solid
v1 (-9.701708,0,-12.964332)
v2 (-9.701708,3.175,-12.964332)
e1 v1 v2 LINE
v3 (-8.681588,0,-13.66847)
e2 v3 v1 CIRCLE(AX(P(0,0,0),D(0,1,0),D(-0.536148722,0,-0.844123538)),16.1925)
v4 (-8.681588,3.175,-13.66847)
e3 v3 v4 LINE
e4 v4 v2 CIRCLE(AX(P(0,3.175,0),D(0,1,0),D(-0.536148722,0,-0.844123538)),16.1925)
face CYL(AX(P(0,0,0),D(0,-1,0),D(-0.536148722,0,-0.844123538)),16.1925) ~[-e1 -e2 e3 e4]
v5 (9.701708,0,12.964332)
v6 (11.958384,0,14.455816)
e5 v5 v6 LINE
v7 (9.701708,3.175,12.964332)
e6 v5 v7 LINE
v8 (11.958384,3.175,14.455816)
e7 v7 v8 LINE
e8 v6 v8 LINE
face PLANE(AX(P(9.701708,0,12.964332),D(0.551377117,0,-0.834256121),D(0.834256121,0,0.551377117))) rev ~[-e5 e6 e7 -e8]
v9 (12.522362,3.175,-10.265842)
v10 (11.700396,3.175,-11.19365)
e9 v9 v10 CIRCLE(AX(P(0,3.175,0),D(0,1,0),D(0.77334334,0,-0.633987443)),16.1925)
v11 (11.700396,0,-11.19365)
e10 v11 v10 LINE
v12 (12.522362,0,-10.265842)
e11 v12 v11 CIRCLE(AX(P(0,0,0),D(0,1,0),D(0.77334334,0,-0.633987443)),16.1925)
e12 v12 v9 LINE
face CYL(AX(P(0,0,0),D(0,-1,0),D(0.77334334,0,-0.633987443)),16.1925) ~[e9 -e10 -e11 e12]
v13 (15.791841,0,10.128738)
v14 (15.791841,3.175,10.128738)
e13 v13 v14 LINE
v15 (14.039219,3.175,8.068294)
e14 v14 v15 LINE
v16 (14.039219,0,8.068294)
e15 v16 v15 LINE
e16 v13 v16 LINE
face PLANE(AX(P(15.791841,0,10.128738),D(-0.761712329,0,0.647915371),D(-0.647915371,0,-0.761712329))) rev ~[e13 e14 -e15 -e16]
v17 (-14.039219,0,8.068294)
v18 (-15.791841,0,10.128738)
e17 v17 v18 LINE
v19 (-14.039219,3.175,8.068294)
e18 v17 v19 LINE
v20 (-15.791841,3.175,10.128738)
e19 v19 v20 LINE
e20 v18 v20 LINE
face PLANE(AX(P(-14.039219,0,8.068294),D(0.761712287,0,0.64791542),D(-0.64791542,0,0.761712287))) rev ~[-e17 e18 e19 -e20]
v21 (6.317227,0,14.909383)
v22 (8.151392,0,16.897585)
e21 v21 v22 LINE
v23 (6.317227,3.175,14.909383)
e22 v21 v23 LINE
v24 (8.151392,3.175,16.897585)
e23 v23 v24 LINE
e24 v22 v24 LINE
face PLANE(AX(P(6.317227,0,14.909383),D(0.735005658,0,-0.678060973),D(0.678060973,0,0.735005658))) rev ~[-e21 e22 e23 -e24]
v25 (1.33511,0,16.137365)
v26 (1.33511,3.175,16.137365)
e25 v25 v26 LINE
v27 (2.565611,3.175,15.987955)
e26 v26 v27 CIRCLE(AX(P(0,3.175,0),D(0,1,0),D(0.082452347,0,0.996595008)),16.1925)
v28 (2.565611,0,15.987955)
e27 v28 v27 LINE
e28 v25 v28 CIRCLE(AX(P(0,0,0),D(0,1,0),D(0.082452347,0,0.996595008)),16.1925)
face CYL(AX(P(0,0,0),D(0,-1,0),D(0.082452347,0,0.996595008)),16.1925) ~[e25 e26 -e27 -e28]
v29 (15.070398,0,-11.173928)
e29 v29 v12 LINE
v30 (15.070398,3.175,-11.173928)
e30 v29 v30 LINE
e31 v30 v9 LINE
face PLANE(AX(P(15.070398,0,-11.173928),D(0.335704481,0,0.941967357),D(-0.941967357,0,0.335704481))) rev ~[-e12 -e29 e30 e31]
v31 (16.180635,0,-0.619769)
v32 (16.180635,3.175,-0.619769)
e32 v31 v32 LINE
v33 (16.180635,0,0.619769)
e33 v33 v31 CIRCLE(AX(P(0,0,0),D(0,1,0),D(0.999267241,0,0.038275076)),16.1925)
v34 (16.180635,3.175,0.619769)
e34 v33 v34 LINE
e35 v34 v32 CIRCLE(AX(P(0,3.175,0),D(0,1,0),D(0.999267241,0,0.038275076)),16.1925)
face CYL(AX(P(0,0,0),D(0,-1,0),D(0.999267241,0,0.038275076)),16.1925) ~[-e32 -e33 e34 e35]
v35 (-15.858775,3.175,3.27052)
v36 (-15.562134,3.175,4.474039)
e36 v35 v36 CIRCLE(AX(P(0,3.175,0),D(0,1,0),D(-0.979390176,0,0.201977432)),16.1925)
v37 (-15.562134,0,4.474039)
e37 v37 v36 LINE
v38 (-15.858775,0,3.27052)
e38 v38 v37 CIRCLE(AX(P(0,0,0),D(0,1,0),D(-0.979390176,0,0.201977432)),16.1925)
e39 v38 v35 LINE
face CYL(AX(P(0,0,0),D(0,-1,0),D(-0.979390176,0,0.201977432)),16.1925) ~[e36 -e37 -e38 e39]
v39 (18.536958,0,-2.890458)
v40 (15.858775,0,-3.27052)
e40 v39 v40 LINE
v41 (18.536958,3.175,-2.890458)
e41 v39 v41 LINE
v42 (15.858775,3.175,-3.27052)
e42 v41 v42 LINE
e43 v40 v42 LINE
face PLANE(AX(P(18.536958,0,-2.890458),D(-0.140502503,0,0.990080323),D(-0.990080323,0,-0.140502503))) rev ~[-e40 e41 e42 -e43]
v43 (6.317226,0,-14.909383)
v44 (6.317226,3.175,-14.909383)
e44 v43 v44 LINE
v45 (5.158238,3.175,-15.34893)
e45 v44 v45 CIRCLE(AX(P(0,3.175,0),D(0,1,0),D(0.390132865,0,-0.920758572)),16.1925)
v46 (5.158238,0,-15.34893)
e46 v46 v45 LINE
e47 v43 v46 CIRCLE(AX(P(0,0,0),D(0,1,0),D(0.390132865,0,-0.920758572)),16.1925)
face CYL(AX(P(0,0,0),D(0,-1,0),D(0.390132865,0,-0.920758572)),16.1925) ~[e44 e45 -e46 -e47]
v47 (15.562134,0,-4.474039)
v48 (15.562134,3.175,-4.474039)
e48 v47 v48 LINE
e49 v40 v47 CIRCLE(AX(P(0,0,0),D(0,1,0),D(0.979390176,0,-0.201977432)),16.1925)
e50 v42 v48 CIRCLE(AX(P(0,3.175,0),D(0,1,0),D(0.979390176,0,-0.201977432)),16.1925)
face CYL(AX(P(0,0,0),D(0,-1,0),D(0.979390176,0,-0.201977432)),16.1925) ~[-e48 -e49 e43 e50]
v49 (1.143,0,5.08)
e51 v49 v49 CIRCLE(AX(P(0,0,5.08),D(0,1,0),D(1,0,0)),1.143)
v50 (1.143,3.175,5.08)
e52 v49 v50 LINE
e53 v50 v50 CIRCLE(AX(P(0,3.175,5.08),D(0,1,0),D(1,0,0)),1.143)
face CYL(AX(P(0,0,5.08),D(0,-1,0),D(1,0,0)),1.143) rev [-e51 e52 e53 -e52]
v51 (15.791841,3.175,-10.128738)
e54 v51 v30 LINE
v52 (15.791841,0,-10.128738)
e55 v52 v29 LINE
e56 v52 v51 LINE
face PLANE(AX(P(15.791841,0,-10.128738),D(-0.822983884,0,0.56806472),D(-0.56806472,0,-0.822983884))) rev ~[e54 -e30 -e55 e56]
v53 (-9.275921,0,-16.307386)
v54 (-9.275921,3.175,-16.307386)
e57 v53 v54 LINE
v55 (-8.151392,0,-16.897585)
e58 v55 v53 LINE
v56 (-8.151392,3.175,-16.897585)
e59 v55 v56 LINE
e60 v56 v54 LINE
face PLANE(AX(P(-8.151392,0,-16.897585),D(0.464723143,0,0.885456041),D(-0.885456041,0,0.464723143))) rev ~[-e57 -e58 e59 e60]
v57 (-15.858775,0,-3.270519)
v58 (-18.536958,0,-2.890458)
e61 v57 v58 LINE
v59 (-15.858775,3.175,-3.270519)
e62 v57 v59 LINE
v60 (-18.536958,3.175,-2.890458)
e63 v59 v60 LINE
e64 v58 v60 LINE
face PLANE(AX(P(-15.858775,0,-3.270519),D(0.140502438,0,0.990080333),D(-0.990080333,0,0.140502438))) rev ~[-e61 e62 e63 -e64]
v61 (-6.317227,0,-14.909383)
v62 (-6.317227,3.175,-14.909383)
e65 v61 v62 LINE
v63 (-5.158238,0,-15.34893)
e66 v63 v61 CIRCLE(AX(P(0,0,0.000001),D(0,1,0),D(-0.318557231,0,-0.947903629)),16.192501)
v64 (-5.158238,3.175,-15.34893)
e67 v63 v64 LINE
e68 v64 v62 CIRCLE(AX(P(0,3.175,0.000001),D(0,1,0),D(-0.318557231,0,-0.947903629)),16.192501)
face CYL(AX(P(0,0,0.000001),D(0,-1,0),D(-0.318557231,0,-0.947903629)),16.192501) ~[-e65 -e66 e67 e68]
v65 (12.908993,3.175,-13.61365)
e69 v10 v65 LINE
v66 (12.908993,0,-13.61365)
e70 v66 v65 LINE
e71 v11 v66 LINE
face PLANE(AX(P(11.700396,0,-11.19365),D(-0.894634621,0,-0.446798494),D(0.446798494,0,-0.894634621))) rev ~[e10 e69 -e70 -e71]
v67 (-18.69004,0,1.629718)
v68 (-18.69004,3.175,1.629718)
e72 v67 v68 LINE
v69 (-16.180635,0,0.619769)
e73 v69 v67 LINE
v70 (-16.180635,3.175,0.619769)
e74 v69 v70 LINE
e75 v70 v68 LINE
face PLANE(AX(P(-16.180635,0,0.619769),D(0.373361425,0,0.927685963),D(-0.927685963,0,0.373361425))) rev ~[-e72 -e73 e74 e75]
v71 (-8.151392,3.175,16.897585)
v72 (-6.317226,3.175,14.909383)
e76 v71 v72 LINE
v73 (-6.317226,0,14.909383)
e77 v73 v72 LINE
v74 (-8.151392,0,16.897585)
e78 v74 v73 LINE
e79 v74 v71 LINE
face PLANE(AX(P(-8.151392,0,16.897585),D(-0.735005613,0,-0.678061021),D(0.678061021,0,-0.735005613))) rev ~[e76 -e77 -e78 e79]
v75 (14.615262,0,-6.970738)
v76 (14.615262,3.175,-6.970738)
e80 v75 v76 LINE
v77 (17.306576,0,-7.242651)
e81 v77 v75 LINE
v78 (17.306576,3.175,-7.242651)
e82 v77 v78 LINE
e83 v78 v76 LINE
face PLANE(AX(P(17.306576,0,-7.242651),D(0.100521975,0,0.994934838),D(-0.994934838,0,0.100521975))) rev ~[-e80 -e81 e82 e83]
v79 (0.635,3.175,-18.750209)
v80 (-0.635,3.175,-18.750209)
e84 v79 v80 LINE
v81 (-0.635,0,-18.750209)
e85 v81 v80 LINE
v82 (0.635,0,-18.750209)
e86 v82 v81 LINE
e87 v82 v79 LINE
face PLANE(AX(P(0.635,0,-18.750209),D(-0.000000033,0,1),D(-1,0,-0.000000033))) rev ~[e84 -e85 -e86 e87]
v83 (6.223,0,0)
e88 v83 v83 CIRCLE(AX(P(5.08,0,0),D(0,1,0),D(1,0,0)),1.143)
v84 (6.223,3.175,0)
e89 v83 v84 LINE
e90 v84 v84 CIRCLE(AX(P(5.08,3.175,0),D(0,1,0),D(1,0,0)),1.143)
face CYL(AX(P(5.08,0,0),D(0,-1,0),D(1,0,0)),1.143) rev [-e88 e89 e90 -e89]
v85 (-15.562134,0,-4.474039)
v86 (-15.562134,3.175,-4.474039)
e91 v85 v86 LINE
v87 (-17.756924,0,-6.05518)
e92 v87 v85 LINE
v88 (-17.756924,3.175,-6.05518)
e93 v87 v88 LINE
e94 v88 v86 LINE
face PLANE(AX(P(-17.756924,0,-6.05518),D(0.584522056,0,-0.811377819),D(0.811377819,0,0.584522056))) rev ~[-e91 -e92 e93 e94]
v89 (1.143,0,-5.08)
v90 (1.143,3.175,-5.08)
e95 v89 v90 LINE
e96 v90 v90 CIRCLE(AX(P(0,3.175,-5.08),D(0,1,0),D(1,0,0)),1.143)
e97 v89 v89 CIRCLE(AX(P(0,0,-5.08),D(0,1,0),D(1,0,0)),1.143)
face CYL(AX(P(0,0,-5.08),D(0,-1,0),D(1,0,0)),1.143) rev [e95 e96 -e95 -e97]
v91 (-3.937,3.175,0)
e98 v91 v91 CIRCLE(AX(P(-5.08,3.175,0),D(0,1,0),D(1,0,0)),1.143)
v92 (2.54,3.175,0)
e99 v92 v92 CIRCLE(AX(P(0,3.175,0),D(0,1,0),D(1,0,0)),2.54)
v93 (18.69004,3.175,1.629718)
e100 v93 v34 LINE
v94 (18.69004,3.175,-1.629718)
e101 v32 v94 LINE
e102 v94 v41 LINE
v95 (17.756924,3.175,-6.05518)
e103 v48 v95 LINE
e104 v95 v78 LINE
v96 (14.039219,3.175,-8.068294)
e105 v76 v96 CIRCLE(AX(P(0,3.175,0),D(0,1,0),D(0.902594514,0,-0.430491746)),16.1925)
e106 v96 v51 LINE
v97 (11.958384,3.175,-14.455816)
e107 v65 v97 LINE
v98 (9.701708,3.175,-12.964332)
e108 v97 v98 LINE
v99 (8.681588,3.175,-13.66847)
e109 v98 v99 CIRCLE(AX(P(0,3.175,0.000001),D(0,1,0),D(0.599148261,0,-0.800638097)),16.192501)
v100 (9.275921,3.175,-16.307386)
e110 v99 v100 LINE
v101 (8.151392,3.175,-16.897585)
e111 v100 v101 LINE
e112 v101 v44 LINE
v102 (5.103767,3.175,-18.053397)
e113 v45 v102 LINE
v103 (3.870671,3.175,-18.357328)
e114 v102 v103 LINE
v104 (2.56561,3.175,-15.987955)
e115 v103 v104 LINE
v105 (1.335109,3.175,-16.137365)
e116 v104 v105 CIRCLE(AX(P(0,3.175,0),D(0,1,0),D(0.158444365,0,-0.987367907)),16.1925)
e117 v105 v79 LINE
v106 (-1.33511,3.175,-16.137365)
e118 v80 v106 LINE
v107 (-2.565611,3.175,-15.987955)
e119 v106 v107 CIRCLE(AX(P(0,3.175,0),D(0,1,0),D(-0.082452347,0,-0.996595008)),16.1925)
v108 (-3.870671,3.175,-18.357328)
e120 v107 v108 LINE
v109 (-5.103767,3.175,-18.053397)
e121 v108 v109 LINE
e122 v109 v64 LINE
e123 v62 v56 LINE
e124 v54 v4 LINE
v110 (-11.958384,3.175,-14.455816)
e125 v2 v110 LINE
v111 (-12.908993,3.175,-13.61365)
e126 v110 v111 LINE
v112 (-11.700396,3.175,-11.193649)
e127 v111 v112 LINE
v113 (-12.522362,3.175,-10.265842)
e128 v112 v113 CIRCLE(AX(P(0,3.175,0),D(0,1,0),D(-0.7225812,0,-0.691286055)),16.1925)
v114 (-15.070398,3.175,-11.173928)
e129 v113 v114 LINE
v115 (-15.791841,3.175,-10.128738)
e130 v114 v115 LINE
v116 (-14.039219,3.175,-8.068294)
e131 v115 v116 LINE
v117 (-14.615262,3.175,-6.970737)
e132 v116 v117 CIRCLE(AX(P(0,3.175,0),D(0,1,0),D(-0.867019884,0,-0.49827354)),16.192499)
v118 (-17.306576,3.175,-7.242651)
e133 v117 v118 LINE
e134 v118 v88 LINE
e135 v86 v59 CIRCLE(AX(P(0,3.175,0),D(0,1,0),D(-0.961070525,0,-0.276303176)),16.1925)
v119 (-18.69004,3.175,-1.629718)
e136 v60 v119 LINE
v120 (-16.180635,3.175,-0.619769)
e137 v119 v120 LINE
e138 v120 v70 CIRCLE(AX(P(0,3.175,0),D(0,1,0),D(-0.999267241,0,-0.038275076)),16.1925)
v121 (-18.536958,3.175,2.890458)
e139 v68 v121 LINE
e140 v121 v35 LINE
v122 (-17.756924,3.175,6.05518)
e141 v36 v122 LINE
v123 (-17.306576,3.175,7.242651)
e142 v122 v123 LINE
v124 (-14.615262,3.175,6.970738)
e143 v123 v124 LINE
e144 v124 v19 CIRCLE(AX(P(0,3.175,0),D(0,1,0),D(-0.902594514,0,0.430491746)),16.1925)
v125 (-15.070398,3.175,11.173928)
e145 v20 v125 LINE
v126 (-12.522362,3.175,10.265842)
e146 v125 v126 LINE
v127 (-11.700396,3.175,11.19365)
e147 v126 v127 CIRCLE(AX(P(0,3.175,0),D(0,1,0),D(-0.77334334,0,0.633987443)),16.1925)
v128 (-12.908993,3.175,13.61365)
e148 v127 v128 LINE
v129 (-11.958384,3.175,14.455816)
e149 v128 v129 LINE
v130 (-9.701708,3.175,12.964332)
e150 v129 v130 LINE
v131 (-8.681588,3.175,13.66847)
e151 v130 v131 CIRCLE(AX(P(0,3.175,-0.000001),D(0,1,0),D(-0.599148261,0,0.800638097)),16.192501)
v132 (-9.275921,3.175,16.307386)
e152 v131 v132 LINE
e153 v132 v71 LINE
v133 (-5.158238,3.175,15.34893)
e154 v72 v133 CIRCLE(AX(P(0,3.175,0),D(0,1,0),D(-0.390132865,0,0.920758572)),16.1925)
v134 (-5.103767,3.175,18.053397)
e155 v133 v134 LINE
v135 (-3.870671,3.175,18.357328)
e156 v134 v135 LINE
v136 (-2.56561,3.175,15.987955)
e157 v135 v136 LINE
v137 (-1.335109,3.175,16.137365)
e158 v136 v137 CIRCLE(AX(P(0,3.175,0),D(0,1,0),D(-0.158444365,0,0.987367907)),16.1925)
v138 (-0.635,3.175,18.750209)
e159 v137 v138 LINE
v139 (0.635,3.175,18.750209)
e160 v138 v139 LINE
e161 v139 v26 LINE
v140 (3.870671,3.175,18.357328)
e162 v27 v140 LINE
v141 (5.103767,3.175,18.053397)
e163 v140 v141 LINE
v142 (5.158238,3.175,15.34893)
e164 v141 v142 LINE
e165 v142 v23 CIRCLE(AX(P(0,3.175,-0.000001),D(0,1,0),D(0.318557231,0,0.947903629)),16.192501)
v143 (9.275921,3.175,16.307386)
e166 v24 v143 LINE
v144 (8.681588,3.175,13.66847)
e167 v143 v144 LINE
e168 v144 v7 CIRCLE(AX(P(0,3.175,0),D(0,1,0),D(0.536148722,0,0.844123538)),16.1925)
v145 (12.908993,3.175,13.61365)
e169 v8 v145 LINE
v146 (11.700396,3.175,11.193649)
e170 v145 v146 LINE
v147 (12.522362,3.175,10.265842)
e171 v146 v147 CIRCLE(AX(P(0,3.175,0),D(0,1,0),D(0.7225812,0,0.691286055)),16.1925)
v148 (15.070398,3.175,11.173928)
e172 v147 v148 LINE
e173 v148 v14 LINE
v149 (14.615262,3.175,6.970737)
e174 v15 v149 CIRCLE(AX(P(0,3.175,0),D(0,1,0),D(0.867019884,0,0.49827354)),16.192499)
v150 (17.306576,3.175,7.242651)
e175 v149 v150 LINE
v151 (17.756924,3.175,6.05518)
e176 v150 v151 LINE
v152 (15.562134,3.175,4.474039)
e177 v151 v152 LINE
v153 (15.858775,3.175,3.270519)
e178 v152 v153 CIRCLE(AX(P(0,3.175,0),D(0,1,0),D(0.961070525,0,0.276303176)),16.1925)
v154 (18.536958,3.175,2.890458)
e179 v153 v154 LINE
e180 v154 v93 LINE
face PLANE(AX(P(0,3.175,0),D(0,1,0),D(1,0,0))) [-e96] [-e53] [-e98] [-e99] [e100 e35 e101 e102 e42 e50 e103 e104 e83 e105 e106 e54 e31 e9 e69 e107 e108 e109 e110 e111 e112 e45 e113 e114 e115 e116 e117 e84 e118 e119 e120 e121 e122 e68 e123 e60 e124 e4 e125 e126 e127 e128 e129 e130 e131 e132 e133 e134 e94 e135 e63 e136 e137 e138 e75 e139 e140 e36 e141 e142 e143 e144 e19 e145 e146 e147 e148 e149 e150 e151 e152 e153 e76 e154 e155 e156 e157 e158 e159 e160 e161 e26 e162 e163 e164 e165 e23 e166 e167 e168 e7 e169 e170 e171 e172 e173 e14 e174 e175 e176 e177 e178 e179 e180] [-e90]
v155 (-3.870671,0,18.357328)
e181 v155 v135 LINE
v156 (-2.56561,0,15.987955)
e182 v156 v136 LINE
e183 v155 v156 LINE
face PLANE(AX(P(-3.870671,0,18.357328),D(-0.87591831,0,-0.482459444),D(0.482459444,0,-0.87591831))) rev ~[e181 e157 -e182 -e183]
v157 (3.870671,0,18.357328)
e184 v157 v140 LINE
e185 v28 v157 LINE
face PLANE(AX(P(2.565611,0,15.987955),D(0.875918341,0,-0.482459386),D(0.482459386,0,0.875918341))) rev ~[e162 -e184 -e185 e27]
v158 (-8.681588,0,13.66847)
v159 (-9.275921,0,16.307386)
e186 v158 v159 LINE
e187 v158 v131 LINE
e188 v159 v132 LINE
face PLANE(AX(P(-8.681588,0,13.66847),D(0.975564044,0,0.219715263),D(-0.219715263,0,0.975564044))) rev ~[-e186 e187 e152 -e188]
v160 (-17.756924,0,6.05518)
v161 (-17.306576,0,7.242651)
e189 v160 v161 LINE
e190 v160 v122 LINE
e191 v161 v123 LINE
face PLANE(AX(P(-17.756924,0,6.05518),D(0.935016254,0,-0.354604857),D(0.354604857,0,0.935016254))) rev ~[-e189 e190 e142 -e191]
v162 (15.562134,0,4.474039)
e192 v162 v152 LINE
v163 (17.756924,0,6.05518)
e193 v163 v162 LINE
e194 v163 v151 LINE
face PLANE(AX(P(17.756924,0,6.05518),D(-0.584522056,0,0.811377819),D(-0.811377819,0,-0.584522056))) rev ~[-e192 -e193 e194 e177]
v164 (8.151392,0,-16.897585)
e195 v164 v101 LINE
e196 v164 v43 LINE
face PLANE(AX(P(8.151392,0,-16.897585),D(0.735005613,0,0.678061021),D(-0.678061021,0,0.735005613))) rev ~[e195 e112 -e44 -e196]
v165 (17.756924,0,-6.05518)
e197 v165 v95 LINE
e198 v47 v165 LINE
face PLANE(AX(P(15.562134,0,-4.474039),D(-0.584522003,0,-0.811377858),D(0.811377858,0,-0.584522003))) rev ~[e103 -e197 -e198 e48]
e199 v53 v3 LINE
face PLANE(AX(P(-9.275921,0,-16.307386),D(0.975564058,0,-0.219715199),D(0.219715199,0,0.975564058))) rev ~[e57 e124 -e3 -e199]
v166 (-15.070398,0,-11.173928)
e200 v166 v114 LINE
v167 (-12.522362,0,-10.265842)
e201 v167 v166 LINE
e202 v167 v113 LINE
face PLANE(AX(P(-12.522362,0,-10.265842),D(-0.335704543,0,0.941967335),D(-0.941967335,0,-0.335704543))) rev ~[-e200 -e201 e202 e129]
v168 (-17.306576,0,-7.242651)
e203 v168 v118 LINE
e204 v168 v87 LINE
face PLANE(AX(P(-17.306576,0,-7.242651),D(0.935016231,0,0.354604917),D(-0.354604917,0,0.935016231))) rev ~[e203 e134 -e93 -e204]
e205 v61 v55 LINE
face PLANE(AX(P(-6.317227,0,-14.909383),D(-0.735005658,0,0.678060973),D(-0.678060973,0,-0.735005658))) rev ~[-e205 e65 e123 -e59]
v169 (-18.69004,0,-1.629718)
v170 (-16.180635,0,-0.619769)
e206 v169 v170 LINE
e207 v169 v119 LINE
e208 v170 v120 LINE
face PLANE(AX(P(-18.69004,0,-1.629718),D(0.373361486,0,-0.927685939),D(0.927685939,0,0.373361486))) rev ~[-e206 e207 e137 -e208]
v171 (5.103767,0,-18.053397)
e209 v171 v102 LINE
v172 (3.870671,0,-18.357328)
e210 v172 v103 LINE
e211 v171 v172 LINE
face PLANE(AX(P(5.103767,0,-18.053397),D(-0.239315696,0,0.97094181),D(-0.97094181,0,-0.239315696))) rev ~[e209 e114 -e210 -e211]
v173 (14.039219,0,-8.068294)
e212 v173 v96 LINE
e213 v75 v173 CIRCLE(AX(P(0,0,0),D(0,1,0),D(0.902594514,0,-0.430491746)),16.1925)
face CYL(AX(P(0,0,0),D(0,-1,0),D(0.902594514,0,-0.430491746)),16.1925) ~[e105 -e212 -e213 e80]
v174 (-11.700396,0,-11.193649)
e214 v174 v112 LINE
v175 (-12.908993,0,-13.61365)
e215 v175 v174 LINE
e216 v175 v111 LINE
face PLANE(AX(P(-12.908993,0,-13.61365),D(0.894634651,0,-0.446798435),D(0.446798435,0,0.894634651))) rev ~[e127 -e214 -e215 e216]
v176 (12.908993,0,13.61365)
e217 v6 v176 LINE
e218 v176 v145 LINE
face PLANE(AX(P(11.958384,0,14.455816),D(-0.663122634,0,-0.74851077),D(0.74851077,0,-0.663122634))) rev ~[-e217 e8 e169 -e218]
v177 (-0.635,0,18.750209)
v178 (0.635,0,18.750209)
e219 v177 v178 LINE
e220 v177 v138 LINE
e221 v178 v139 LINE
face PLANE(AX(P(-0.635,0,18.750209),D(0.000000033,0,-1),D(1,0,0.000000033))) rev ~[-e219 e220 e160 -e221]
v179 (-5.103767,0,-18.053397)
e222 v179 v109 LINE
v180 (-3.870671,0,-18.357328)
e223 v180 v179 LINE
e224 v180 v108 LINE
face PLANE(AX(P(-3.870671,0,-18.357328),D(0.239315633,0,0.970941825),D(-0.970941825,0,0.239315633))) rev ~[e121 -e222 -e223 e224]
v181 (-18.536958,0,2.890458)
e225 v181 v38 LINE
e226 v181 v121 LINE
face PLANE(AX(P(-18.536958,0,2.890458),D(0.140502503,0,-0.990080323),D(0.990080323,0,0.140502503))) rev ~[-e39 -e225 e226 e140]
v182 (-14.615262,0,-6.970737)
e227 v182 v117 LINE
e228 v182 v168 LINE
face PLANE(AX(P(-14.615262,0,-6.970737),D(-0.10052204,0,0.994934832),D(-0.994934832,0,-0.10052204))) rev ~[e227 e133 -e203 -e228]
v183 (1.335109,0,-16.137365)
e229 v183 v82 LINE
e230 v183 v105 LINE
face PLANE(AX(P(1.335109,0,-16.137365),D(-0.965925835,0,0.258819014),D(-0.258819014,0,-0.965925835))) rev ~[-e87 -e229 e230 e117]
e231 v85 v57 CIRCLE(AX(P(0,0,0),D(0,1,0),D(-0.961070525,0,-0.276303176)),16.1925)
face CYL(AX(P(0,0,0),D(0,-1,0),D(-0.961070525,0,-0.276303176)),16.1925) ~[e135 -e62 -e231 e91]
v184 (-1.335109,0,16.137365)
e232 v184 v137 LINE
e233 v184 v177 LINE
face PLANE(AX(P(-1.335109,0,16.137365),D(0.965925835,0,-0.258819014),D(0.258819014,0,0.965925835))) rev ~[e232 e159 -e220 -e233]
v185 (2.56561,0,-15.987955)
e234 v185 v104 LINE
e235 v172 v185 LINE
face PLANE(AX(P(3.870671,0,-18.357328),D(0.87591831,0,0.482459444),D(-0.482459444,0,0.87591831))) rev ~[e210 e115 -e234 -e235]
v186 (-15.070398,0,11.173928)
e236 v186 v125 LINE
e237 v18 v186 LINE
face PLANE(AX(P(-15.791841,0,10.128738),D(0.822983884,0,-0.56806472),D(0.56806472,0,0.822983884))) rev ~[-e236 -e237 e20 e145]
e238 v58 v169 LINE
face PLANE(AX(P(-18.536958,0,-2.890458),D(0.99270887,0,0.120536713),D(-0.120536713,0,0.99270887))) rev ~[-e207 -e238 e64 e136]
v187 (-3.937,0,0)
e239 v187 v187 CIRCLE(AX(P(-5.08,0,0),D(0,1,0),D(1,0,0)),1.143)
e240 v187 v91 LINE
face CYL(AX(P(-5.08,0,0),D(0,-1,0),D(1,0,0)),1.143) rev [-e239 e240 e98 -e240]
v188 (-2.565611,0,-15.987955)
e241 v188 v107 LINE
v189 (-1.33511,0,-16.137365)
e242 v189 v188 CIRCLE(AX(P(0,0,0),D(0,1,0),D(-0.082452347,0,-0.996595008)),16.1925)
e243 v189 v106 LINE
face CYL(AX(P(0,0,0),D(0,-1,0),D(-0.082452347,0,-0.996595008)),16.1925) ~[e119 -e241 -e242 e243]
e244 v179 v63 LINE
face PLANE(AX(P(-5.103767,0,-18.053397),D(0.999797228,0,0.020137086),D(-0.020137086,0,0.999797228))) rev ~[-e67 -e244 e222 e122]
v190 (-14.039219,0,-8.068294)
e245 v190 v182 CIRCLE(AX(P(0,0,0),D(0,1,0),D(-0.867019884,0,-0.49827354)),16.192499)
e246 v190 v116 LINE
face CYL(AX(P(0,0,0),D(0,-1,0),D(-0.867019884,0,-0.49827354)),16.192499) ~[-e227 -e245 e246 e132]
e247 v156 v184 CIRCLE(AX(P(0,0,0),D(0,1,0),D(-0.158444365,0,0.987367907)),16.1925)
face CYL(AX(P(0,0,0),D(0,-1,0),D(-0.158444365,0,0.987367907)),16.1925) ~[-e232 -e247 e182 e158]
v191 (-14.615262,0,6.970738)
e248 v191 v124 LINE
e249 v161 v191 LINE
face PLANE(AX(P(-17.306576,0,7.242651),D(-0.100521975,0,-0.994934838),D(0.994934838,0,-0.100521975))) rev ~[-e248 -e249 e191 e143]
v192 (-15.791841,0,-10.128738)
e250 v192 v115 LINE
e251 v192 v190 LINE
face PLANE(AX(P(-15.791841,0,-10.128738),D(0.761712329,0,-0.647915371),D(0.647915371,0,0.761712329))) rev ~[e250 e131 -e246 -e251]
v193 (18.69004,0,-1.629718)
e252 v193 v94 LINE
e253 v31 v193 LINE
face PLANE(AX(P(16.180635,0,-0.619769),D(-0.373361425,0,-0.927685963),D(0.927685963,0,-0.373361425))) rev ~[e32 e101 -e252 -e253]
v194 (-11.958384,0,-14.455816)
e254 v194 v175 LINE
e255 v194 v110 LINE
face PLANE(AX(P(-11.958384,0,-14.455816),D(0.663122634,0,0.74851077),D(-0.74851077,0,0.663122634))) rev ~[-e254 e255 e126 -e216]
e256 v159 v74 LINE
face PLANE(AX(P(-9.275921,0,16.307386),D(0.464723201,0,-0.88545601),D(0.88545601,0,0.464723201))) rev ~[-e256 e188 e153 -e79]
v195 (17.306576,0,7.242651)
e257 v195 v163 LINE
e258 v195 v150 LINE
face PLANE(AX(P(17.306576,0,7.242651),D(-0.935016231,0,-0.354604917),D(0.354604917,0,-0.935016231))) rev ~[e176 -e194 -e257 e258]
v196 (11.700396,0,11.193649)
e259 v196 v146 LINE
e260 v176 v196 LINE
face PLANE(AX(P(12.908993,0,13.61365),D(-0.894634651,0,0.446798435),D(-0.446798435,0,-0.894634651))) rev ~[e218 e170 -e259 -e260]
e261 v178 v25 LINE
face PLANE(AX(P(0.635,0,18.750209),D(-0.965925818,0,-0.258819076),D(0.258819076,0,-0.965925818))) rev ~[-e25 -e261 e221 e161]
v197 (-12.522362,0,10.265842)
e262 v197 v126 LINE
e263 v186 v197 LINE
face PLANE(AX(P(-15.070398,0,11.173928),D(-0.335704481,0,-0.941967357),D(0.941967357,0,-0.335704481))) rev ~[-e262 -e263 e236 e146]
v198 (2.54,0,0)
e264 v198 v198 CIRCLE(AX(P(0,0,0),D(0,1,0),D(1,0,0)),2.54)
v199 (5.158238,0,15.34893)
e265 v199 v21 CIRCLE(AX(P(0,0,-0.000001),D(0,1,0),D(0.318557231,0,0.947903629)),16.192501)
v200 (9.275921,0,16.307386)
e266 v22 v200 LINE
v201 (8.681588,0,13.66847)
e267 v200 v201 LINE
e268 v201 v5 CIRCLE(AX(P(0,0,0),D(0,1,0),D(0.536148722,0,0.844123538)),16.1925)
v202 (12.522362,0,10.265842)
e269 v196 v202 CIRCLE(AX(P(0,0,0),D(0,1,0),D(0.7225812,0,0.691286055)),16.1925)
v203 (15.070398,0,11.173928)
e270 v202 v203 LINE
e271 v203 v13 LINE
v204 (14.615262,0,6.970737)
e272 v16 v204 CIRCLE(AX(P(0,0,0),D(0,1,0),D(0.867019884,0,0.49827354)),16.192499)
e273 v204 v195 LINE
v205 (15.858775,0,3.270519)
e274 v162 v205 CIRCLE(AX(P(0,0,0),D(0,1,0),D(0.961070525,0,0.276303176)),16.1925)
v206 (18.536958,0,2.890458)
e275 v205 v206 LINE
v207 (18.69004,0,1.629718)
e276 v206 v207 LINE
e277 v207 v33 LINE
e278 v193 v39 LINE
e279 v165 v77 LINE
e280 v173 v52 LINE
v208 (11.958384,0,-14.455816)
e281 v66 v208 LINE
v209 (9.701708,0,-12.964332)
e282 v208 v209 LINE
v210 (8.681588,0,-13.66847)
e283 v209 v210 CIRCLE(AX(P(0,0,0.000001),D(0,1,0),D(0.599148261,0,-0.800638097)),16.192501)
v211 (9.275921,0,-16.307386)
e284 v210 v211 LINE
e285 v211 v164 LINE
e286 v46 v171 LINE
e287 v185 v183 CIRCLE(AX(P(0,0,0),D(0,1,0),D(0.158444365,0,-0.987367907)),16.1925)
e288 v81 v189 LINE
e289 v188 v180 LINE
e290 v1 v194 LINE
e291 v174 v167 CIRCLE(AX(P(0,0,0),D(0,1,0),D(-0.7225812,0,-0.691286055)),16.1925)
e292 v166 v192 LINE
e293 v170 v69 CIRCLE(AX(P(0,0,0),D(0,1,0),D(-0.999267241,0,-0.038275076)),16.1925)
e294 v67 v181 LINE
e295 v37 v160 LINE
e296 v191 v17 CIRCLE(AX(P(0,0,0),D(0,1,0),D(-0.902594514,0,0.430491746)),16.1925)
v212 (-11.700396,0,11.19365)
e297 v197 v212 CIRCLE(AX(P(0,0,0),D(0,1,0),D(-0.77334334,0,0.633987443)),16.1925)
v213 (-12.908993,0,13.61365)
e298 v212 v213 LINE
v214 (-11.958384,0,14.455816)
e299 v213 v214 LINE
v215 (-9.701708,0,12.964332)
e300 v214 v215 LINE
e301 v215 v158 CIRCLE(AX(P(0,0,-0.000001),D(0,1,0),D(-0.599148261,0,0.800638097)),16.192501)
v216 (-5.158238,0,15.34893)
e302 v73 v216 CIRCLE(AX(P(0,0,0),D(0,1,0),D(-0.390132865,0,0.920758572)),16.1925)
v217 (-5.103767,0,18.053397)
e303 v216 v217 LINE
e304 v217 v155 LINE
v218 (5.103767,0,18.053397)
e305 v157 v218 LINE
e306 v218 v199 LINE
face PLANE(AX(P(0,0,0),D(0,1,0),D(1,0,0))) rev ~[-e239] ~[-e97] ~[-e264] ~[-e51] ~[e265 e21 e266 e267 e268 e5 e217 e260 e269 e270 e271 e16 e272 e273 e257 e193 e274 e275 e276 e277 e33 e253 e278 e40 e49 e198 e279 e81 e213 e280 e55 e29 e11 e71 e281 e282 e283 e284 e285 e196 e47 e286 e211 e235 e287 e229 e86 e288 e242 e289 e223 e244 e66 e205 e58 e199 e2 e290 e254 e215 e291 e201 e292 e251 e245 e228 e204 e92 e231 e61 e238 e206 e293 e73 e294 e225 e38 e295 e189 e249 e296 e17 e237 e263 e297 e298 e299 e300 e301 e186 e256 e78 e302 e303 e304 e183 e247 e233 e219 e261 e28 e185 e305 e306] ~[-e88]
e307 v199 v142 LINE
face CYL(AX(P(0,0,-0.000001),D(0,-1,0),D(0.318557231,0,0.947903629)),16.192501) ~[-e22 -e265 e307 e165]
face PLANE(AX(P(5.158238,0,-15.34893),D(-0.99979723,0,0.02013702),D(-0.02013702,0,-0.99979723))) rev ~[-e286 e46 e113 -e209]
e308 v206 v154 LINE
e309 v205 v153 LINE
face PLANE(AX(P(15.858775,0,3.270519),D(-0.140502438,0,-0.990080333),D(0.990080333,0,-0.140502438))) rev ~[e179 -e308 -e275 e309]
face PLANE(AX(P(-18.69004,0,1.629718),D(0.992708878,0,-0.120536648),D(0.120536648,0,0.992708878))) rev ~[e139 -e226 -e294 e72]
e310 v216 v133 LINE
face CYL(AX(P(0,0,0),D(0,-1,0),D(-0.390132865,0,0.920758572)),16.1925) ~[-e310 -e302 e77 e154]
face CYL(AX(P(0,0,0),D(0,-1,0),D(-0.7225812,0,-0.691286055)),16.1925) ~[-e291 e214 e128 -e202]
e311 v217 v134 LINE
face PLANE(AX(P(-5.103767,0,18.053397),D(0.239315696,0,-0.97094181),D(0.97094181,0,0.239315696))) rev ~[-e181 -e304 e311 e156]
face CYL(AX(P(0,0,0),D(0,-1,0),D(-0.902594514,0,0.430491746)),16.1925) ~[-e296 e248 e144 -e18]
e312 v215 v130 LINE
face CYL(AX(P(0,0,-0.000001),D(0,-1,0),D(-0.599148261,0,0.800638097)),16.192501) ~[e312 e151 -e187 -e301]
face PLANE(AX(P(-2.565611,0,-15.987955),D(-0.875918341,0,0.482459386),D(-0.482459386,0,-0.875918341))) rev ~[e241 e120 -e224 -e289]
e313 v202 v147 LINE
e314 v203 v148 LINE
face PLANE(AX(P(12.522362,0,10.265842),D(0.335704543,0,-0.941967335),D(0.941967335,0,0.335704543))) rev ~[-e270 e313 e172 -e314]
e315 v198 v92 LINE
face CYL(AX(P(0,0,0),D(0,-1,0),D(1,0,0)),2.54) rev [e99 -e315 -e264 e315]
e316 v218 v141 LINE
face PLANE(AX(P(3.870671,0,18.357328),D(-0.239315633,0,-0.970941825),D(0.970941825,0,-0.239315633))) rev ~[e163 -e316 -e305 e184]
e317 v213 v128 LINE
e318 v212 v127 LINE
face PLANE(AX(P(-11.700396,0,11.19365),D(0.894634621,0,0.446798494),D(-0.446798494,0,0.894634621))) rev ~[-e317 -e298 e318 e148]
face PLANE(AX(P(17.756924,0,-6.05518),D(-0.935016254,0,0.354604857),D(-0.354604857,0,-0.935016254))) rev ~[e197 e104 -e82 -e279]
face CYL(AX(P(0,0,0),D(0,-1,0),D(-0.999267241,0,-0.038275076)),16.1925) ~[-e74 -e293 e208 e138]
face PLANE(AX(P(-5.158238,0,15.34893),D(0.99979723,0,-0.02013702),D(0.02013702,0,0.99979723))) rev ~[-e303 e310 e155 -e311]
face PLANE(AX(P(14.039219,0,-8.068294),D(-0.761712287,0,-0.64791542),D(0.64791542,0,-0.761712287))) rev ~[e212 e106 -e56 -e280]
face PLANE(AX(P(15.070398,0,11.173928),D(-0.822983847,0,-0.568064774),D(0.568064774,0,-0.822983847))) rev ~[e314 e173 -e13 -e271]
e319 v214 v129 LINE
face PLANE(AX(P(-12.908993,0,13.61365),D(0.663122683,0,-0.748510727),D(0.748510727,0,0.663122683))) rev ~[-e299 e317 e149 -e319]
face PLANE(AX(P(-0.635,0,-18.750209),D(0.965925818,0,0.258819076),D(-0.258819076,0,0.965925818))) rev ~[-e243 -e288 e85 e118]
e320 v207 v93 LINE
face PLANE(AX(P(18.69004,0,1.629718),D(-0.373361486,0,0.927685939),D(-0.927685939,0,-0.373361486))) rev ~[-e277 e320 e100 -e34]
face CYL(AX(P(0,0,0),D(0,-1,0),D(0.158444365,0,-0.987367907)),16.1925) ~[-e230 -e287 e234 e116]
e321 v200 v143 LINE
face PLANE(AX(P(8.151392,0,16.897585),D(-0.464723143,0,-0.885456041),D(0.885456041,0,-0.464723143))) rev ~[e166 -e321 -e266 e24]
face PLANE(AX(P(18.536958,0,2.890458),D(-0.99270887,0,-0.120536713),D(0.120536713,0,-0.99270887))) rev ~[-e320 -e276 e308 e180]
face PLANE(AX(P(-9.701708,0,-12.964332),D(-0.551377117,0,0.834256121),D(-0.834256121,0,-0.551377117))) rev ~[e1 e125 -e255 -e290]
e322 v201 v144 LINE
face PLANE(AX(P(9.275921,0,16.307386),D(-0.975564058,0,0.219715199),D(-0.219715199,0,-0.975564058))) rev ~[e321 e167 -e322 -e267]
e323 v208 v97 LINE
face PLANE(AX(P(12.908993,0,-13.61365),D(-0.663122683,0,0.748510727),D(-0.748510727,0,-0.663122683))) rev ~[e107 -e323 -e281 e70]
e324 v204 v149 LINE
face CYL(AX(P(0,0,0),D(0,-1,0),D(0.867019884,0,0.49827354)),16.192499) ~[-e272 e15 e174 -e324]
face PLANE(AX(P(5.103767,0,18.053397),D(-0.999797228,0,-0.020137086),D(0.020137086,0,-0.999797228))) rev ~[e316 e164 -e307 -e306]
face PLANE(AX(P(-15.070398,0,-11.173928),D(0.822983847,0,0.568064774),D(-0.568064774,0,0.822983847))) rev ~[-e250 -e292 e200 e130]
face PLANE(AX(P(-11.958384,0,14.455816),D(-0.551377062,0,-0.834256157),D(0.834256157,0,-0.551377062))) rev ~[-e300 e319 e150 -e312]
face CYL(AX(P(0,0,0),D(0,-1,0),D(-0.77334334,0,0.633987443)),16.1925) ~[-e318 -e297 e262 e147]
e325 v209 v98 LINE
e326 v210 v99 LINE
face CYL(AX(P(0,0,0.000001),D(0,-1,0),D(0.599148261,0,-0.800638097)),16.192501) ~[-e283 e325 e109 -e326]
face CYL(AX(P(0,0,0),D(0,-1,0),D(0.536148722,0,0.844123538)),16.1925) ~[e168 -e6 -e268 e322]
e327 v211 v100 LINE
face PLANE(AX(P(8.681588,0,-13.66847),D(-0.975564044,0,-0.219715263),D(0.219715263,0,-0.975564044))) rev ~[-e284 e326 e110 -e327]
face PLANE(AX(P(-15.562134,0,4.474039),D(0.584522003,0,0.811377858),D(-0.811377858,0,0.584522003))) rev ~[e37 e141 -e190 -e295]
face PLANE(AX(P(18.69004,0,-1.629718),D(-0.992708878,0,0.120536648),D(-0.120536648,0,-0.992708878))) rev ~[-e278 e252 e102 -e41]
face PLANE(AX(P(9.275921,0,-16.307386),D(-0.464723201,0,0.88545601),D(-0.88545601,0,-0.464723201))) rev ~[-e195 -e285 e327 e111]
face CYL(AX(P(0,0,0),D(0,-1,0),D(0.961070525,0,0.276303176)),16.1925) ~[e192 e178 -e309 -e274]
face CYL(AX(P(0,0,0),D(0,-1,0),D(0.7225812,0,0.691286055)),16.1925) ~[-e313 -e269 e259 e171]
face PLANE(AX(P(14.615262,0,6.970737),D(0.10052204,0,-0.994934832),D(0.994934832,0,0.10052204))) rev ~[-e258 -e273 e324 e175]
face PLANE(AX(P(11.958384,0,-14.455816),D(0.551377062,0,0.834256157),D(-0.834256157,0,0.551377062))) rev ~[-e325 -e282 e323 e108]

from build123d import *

# Parameters (mm, degrees)
BOSS_EXTRUDE1_DEPTH = 3.175
SKETCH2_R           = 1.143
SKETCH2_R_2         = 2.54
CUT_EXTRUDE1_DEPTH  = 3.175


with BuildPart() as part:
    # Sketch1 → Boss-Extrude1 (new body)
    with BuildSketch(Plane(origin=(0, 0, 0), x_dir=(1, 0, 0), z_dir=(0, 1, 0))):
        with BuildLine():
            Line((0.635, 18.750209072), (-0.635, 18.750209114))
            Line((-0.635, 18.750209114), (-1.33510965, 16.137364669))
            ThreePointArc((-1.33510965, 16.137364669), (-1.951790294, 16.074438432), (-2.565610552, 15.987954802))
            Line((-2.565610552, 15.987954802), (-3.870670686, 18.357327521))
            Line((-3.870670686, 18.357327521), (-5.103766804, 18.053396667))
            Line((-5.103766804, 18.053396667), (-5.158237936, 15.348929528))
            ThreePointArc((-5.158237936, 15.348929528), (-5.741939727, 15.140250474), (-6.317226596, 14.909383099))
            Line((-6.317226596, 14.909383099), (-8.15139206, 16.897584819))
            Line((-8.15139206, 16.897584819), (-9.275921232, 16.307386428))
            Line((-9.275921232, 16.307386428), (-8.681588182, 13.668470393))
            ThreePointArc((-8.681588182, 13.668470393), (-9.198388493, 13.326166192), (-9.701708393, 12.964332243))
            Line((-9.701708393, 12.964332243), (-11.958384157, 14.455815909))
            Line((-11.958384157, 14.455815909), (-12.908992835, 13.613650164))
            Line((-12.908992835, 13.613650164), (-11.70039608, 11.193649442))
            ThreePointArc((-11.70039608, 11.193649442), (-12.120260356, 10.737613569), (-12.522362162, 10.265841521))
            Line((-12.522362162, 10.265841521), (-15.070398434, 11.173927523))
            Line((-15.070398434, 11.173927523), (-15.791840697, 10.128738036))
            Line((-15.791840697, 10.128738036), (-14.039219486, 8.068294272))
            ThreePointArc((-14.039219486, 8.068294272), (-14.337746742, 7.525029875), (-14.615261759, 6.970737405))
            Line((-14.615261759, 6.970737405), (-17.306575933, 7.242651084))
            Line((-17.306575933, 7.242651084), (-17.756924178, 6.055180471))
            Line((-17.756924178, 6.055180471), (-15.562134487, 4.474039167))
            ThreePointArc((-15.562134487, 4.474039167), (-15.721975403, 3.875118797), (-15.858775467, 3.270519368))
            Line((-15.858775467, 3.270519368), (-18.536958145, 2.890458091))
            Line((-18.536958145, 2.890458091), (-18.69003977, 1.629717826))
            Line((-18.69003977, 1.629717826), (-16.180634797, 0.619769168))
            ThreePointArc((-16.180634797, 0.619769168), (-16.1925, -1e-07), (-16.180634789, -0.619769367))
            Line((-16.180634789, -0.619769367), (-18.690039729, -1.629717821))
            Line((-18.690039729, -1.629717821), (-18.536958186, -2.890458096))
            Line((-18.536958186, -2.890458096), (-15.858775427, -3.270519563))
            ThreePointArc((-15.858775427, -3.270519563), (-15.721975355, -3.875118991), (-15.562134432, -4.474039358))
            Line((-15.562134432, -4.474039358), (-17.75692414, -6.055180456))
            Line((-17.75692414, -6.055180456), (-17.306575972, -7.242651099))
            Line((-17.306575972, -7.242651099), (-14.615261673, -6.970737585))
            ThreePointArc((-14.615261673, -6.970737585), (-14.337746649, -7.525030051), (-14.039219387, -8.068294445))
            Line((-14.039219387, -8.068294445), (-15.791840663, -10.128738013))
            Line((-15.791840663, -10.128738013), (-15.070398469, -11.173927546))
            Line((-15.070398469, -11.173927546), (-12.522362036, -10.265841675))
            ThreePointArc((-12.522362036, -10.265841675), (-12.120260224, -10.737613718), (-11.700395942, -11.193649586))
            Line((-11.700395942, -11.193649586), (-12.908992808, -13.613650133))
            Line((-12.908992808, -13.613650133), (-11.958384185, -14.45581594))
            Line((-11.958384185, -14.45581594), (-9.701708233, -12.964332363))
            ThreePointArc((-9.701708233, -12.964332363), (-9.198388329, -13.326166305), (-8.681588014, -13.6684705))
            Line((-8.681588014, -13.6684705), (-9.275921213, -16.307386391))
            Line((-9.275921213, -16.307386391), (-8.15139208, -16.897584856))
            Line((-8.15139208, -16.897584856), (-6.317226413, -14.909383176))
            ThreePointArc((-6.317226413, -14.909383176), (-5.74193954, -15.140250545), (-5.158237747, -15.348929591))
            Line((-5.158237747, -15.348929591), (-5.103766794, -18.053396627))
            Line((-5.103766794, -18.053396627), (-3.870670696, -18.357327561))
            Line((-3.870670696, -18.357327561), (-2.565610355, -15.987954833))
            ThreePointArc((-2.565610355, -15.987954833), (-1.951790096, -16.074438456), (-1.335109452, -16.137364686))
            Line((-1.335109452, -16.137364686), (-0.635, -18.750209072))
            Line((-0.635, -18.750209072), (0.635, -18.750209114))
            Line((0.635, -18.750209114), (1.33510965, -16.137364669))
            ThreePointArc((1.33510965, -16.137364669), (1.951790294, -16.074438432), (2.565610552, -15.987954802))
            Line((2.565610552, -15.987954802), (3.870670686, -18.357327521))
            Line((3.870670686, -18.357327521), (5.103766804, -18.053396667))
            Line((5.103766804, -18.053396667), (5.158237936, -15.348929528))
            ThreePointArc((5.158237936, -15.348929528), (5.741939727, -15.140250474), (6.317226596, -14.909383099))
            Line((6.317226596, -14.909383099), (8.15139206, -16.897584819))
            Line((8.15139206, -16.897584819), (9.275921232, -16.307386428))
            Line((9.275921232, -16.307386428), (8.681588182, -13.668470393))
            ThreePointArc((8.681588182, -13.668470393), (9.198388493, -13.326166192), (9.701708393, -12.964332243))
            Line((9.701708393, -12.964332243), (11.958384157, -14.455815909))
            Line((11.958384157, -14.455815909), (12.908992835, -13.613650164))
            Line((12.908992835, -13.613650164), (11.70039608, -11.193649442))
            ThreePointArc((11.70039608, -11.193649442), (12.120260356, -10.737613569), (12.522362162, -10.265841521))
            Line((12.522362162, -10.265841521), (15.070398434, -11.173927523))
            Line((15.070398434, -11.173927523), (15.791840697, -10.128738036))
            Line((15.791840697, -10.128738036), (14.039219486, -8.068294272))
            ThreePointArc((14.039219486, -8.068294272), (14.337746742, -7.525029875), (14.615261759, -6.970737405))
            Line((14.615261759, -6.970737405), (17.306575933, -7.242651084))
            Line((17.306575933, -7.242651084), (17.756924178, -6.055180471))
            Line((17.756924178, -6.055180471), (15.562134487, -4.474039167))
            ThreePointArc((15.562134487, -4.474039167), (15.721975403, -3.875118797), (15.858775467, -3.270519368))
            Line((15.858775467, -3.270519368), (18.536958145, -2.890458091))
            Line((18.536958145, -2.890458091), (18.69003977, -1.629717826))
            Line((18.69003977, -1.629717826), (16.180634797, -0.619769168))
            ThreePointArc((16.180634797, -0.619769168), (16.1925, 1e-07), (16.180634789, 0.619769367))
            Line((16.180634789, 0.619769367), (18.690039729, 1.629717821))
            Line((18.690039729, 1.629717821), (18.536958186, 2.890458096))
            Line((18.536958186, 2.890458096), (15.858775427, 3.270519563))
            ThreePointArc((15.858775427, 3.270519563), (15.721975355, 3.875118991), (15.562134432, 4.474039358))
            Line((15.562134432, 4.474039358), (17.75692414, 6.055180456))
            Line((17.75692414, 6.055180456), (17.306575972, 7.242651099))
            Line((17.306575972, 7.242651099), (14.615261673, 6.970737585))
            ThreePointArc((14.615261673, 6.970737585), (14.337746649, 7.525030051), (14.039219387, 8.068294445))
            Line((14.039219387, 8.068294445), (15.791840663, 10.128738013))
            Line((15.791840663, 10.128738013), (15.070398469, 11.173927546))
            Line((15.070398469, 11.173927546), (12.522362036, 10.265841675))
            ThreePointArc((12.522362036, 10.265841675), (12.120260224, 10.737613718), (11.700395942, 11.193649586))
            Line((11.700395942, 11.193649586), (12.908992808, 13.613650133))
            Line((12.908992808, 13.613650133), (11.958384185, 14.45581594))
            Line((11.958384185, 14.45581594), (9.701708233, 12.964332363))
            ThreePointArc((9.701708233, 12.964332363), (9.198388329, 13.326166305), (8.681588014, 13.6684705))
            Line((8.681588014, 13.6684705), (9.275921213, 16.307386391))
            Line((9.275921213, 16.307386391), (8.15139208, 16.897584856))
            Line((8.15139208, 16.897584856), (6.317226413, 14.909383176))
            ThreePointArc((6.317226413, 14.909383176), (5.74193954, 15.140250545), (5.158237747, 15.348929591))
            Line((5.158237747, 15.348929591), (5.103766794, 18.053396627))
            Line((5.103766794, 18.053396627), (3.870670696, 18.357327561))
            Line((3.870670696, 18.357327561), (2.565610355, 15.987954833))
            ThreePointArc((2.565610355, 15.987954833), (1.951790096, 16.074438456), (1.335109452, 16.137364686))
            Line((1.335109452, 16.137364686), (0.635, 18.750209072))
        make_face()
    extrude(amount=BOSS_EXTRUDE1_DEPTH)

    # Sketch2 → Cut-Extrude1 (cut)
    with BuildSketch(Plane(origin=(0, 0, 0), x_dir=(1, 0, 0), z_dir=(0, 1, 0))):
        with Locations((-5.08, 0)):
            Circle(SKETCH2_R)
        with Locations((0, 5.08)):
            Circle(SKETCH2_R)
        with Locations((5.08, 0)):
            Circle(SKETCH2_R)
        with Locations((0, -5.08)):
            Circle(SKETCH2_R)
        Circle(SKETCH2_R_2)
    extrude(amount=CUT_EXTRUDE1_DEPTH, mode=Mode.SUBTRACT)


solid = part.part
